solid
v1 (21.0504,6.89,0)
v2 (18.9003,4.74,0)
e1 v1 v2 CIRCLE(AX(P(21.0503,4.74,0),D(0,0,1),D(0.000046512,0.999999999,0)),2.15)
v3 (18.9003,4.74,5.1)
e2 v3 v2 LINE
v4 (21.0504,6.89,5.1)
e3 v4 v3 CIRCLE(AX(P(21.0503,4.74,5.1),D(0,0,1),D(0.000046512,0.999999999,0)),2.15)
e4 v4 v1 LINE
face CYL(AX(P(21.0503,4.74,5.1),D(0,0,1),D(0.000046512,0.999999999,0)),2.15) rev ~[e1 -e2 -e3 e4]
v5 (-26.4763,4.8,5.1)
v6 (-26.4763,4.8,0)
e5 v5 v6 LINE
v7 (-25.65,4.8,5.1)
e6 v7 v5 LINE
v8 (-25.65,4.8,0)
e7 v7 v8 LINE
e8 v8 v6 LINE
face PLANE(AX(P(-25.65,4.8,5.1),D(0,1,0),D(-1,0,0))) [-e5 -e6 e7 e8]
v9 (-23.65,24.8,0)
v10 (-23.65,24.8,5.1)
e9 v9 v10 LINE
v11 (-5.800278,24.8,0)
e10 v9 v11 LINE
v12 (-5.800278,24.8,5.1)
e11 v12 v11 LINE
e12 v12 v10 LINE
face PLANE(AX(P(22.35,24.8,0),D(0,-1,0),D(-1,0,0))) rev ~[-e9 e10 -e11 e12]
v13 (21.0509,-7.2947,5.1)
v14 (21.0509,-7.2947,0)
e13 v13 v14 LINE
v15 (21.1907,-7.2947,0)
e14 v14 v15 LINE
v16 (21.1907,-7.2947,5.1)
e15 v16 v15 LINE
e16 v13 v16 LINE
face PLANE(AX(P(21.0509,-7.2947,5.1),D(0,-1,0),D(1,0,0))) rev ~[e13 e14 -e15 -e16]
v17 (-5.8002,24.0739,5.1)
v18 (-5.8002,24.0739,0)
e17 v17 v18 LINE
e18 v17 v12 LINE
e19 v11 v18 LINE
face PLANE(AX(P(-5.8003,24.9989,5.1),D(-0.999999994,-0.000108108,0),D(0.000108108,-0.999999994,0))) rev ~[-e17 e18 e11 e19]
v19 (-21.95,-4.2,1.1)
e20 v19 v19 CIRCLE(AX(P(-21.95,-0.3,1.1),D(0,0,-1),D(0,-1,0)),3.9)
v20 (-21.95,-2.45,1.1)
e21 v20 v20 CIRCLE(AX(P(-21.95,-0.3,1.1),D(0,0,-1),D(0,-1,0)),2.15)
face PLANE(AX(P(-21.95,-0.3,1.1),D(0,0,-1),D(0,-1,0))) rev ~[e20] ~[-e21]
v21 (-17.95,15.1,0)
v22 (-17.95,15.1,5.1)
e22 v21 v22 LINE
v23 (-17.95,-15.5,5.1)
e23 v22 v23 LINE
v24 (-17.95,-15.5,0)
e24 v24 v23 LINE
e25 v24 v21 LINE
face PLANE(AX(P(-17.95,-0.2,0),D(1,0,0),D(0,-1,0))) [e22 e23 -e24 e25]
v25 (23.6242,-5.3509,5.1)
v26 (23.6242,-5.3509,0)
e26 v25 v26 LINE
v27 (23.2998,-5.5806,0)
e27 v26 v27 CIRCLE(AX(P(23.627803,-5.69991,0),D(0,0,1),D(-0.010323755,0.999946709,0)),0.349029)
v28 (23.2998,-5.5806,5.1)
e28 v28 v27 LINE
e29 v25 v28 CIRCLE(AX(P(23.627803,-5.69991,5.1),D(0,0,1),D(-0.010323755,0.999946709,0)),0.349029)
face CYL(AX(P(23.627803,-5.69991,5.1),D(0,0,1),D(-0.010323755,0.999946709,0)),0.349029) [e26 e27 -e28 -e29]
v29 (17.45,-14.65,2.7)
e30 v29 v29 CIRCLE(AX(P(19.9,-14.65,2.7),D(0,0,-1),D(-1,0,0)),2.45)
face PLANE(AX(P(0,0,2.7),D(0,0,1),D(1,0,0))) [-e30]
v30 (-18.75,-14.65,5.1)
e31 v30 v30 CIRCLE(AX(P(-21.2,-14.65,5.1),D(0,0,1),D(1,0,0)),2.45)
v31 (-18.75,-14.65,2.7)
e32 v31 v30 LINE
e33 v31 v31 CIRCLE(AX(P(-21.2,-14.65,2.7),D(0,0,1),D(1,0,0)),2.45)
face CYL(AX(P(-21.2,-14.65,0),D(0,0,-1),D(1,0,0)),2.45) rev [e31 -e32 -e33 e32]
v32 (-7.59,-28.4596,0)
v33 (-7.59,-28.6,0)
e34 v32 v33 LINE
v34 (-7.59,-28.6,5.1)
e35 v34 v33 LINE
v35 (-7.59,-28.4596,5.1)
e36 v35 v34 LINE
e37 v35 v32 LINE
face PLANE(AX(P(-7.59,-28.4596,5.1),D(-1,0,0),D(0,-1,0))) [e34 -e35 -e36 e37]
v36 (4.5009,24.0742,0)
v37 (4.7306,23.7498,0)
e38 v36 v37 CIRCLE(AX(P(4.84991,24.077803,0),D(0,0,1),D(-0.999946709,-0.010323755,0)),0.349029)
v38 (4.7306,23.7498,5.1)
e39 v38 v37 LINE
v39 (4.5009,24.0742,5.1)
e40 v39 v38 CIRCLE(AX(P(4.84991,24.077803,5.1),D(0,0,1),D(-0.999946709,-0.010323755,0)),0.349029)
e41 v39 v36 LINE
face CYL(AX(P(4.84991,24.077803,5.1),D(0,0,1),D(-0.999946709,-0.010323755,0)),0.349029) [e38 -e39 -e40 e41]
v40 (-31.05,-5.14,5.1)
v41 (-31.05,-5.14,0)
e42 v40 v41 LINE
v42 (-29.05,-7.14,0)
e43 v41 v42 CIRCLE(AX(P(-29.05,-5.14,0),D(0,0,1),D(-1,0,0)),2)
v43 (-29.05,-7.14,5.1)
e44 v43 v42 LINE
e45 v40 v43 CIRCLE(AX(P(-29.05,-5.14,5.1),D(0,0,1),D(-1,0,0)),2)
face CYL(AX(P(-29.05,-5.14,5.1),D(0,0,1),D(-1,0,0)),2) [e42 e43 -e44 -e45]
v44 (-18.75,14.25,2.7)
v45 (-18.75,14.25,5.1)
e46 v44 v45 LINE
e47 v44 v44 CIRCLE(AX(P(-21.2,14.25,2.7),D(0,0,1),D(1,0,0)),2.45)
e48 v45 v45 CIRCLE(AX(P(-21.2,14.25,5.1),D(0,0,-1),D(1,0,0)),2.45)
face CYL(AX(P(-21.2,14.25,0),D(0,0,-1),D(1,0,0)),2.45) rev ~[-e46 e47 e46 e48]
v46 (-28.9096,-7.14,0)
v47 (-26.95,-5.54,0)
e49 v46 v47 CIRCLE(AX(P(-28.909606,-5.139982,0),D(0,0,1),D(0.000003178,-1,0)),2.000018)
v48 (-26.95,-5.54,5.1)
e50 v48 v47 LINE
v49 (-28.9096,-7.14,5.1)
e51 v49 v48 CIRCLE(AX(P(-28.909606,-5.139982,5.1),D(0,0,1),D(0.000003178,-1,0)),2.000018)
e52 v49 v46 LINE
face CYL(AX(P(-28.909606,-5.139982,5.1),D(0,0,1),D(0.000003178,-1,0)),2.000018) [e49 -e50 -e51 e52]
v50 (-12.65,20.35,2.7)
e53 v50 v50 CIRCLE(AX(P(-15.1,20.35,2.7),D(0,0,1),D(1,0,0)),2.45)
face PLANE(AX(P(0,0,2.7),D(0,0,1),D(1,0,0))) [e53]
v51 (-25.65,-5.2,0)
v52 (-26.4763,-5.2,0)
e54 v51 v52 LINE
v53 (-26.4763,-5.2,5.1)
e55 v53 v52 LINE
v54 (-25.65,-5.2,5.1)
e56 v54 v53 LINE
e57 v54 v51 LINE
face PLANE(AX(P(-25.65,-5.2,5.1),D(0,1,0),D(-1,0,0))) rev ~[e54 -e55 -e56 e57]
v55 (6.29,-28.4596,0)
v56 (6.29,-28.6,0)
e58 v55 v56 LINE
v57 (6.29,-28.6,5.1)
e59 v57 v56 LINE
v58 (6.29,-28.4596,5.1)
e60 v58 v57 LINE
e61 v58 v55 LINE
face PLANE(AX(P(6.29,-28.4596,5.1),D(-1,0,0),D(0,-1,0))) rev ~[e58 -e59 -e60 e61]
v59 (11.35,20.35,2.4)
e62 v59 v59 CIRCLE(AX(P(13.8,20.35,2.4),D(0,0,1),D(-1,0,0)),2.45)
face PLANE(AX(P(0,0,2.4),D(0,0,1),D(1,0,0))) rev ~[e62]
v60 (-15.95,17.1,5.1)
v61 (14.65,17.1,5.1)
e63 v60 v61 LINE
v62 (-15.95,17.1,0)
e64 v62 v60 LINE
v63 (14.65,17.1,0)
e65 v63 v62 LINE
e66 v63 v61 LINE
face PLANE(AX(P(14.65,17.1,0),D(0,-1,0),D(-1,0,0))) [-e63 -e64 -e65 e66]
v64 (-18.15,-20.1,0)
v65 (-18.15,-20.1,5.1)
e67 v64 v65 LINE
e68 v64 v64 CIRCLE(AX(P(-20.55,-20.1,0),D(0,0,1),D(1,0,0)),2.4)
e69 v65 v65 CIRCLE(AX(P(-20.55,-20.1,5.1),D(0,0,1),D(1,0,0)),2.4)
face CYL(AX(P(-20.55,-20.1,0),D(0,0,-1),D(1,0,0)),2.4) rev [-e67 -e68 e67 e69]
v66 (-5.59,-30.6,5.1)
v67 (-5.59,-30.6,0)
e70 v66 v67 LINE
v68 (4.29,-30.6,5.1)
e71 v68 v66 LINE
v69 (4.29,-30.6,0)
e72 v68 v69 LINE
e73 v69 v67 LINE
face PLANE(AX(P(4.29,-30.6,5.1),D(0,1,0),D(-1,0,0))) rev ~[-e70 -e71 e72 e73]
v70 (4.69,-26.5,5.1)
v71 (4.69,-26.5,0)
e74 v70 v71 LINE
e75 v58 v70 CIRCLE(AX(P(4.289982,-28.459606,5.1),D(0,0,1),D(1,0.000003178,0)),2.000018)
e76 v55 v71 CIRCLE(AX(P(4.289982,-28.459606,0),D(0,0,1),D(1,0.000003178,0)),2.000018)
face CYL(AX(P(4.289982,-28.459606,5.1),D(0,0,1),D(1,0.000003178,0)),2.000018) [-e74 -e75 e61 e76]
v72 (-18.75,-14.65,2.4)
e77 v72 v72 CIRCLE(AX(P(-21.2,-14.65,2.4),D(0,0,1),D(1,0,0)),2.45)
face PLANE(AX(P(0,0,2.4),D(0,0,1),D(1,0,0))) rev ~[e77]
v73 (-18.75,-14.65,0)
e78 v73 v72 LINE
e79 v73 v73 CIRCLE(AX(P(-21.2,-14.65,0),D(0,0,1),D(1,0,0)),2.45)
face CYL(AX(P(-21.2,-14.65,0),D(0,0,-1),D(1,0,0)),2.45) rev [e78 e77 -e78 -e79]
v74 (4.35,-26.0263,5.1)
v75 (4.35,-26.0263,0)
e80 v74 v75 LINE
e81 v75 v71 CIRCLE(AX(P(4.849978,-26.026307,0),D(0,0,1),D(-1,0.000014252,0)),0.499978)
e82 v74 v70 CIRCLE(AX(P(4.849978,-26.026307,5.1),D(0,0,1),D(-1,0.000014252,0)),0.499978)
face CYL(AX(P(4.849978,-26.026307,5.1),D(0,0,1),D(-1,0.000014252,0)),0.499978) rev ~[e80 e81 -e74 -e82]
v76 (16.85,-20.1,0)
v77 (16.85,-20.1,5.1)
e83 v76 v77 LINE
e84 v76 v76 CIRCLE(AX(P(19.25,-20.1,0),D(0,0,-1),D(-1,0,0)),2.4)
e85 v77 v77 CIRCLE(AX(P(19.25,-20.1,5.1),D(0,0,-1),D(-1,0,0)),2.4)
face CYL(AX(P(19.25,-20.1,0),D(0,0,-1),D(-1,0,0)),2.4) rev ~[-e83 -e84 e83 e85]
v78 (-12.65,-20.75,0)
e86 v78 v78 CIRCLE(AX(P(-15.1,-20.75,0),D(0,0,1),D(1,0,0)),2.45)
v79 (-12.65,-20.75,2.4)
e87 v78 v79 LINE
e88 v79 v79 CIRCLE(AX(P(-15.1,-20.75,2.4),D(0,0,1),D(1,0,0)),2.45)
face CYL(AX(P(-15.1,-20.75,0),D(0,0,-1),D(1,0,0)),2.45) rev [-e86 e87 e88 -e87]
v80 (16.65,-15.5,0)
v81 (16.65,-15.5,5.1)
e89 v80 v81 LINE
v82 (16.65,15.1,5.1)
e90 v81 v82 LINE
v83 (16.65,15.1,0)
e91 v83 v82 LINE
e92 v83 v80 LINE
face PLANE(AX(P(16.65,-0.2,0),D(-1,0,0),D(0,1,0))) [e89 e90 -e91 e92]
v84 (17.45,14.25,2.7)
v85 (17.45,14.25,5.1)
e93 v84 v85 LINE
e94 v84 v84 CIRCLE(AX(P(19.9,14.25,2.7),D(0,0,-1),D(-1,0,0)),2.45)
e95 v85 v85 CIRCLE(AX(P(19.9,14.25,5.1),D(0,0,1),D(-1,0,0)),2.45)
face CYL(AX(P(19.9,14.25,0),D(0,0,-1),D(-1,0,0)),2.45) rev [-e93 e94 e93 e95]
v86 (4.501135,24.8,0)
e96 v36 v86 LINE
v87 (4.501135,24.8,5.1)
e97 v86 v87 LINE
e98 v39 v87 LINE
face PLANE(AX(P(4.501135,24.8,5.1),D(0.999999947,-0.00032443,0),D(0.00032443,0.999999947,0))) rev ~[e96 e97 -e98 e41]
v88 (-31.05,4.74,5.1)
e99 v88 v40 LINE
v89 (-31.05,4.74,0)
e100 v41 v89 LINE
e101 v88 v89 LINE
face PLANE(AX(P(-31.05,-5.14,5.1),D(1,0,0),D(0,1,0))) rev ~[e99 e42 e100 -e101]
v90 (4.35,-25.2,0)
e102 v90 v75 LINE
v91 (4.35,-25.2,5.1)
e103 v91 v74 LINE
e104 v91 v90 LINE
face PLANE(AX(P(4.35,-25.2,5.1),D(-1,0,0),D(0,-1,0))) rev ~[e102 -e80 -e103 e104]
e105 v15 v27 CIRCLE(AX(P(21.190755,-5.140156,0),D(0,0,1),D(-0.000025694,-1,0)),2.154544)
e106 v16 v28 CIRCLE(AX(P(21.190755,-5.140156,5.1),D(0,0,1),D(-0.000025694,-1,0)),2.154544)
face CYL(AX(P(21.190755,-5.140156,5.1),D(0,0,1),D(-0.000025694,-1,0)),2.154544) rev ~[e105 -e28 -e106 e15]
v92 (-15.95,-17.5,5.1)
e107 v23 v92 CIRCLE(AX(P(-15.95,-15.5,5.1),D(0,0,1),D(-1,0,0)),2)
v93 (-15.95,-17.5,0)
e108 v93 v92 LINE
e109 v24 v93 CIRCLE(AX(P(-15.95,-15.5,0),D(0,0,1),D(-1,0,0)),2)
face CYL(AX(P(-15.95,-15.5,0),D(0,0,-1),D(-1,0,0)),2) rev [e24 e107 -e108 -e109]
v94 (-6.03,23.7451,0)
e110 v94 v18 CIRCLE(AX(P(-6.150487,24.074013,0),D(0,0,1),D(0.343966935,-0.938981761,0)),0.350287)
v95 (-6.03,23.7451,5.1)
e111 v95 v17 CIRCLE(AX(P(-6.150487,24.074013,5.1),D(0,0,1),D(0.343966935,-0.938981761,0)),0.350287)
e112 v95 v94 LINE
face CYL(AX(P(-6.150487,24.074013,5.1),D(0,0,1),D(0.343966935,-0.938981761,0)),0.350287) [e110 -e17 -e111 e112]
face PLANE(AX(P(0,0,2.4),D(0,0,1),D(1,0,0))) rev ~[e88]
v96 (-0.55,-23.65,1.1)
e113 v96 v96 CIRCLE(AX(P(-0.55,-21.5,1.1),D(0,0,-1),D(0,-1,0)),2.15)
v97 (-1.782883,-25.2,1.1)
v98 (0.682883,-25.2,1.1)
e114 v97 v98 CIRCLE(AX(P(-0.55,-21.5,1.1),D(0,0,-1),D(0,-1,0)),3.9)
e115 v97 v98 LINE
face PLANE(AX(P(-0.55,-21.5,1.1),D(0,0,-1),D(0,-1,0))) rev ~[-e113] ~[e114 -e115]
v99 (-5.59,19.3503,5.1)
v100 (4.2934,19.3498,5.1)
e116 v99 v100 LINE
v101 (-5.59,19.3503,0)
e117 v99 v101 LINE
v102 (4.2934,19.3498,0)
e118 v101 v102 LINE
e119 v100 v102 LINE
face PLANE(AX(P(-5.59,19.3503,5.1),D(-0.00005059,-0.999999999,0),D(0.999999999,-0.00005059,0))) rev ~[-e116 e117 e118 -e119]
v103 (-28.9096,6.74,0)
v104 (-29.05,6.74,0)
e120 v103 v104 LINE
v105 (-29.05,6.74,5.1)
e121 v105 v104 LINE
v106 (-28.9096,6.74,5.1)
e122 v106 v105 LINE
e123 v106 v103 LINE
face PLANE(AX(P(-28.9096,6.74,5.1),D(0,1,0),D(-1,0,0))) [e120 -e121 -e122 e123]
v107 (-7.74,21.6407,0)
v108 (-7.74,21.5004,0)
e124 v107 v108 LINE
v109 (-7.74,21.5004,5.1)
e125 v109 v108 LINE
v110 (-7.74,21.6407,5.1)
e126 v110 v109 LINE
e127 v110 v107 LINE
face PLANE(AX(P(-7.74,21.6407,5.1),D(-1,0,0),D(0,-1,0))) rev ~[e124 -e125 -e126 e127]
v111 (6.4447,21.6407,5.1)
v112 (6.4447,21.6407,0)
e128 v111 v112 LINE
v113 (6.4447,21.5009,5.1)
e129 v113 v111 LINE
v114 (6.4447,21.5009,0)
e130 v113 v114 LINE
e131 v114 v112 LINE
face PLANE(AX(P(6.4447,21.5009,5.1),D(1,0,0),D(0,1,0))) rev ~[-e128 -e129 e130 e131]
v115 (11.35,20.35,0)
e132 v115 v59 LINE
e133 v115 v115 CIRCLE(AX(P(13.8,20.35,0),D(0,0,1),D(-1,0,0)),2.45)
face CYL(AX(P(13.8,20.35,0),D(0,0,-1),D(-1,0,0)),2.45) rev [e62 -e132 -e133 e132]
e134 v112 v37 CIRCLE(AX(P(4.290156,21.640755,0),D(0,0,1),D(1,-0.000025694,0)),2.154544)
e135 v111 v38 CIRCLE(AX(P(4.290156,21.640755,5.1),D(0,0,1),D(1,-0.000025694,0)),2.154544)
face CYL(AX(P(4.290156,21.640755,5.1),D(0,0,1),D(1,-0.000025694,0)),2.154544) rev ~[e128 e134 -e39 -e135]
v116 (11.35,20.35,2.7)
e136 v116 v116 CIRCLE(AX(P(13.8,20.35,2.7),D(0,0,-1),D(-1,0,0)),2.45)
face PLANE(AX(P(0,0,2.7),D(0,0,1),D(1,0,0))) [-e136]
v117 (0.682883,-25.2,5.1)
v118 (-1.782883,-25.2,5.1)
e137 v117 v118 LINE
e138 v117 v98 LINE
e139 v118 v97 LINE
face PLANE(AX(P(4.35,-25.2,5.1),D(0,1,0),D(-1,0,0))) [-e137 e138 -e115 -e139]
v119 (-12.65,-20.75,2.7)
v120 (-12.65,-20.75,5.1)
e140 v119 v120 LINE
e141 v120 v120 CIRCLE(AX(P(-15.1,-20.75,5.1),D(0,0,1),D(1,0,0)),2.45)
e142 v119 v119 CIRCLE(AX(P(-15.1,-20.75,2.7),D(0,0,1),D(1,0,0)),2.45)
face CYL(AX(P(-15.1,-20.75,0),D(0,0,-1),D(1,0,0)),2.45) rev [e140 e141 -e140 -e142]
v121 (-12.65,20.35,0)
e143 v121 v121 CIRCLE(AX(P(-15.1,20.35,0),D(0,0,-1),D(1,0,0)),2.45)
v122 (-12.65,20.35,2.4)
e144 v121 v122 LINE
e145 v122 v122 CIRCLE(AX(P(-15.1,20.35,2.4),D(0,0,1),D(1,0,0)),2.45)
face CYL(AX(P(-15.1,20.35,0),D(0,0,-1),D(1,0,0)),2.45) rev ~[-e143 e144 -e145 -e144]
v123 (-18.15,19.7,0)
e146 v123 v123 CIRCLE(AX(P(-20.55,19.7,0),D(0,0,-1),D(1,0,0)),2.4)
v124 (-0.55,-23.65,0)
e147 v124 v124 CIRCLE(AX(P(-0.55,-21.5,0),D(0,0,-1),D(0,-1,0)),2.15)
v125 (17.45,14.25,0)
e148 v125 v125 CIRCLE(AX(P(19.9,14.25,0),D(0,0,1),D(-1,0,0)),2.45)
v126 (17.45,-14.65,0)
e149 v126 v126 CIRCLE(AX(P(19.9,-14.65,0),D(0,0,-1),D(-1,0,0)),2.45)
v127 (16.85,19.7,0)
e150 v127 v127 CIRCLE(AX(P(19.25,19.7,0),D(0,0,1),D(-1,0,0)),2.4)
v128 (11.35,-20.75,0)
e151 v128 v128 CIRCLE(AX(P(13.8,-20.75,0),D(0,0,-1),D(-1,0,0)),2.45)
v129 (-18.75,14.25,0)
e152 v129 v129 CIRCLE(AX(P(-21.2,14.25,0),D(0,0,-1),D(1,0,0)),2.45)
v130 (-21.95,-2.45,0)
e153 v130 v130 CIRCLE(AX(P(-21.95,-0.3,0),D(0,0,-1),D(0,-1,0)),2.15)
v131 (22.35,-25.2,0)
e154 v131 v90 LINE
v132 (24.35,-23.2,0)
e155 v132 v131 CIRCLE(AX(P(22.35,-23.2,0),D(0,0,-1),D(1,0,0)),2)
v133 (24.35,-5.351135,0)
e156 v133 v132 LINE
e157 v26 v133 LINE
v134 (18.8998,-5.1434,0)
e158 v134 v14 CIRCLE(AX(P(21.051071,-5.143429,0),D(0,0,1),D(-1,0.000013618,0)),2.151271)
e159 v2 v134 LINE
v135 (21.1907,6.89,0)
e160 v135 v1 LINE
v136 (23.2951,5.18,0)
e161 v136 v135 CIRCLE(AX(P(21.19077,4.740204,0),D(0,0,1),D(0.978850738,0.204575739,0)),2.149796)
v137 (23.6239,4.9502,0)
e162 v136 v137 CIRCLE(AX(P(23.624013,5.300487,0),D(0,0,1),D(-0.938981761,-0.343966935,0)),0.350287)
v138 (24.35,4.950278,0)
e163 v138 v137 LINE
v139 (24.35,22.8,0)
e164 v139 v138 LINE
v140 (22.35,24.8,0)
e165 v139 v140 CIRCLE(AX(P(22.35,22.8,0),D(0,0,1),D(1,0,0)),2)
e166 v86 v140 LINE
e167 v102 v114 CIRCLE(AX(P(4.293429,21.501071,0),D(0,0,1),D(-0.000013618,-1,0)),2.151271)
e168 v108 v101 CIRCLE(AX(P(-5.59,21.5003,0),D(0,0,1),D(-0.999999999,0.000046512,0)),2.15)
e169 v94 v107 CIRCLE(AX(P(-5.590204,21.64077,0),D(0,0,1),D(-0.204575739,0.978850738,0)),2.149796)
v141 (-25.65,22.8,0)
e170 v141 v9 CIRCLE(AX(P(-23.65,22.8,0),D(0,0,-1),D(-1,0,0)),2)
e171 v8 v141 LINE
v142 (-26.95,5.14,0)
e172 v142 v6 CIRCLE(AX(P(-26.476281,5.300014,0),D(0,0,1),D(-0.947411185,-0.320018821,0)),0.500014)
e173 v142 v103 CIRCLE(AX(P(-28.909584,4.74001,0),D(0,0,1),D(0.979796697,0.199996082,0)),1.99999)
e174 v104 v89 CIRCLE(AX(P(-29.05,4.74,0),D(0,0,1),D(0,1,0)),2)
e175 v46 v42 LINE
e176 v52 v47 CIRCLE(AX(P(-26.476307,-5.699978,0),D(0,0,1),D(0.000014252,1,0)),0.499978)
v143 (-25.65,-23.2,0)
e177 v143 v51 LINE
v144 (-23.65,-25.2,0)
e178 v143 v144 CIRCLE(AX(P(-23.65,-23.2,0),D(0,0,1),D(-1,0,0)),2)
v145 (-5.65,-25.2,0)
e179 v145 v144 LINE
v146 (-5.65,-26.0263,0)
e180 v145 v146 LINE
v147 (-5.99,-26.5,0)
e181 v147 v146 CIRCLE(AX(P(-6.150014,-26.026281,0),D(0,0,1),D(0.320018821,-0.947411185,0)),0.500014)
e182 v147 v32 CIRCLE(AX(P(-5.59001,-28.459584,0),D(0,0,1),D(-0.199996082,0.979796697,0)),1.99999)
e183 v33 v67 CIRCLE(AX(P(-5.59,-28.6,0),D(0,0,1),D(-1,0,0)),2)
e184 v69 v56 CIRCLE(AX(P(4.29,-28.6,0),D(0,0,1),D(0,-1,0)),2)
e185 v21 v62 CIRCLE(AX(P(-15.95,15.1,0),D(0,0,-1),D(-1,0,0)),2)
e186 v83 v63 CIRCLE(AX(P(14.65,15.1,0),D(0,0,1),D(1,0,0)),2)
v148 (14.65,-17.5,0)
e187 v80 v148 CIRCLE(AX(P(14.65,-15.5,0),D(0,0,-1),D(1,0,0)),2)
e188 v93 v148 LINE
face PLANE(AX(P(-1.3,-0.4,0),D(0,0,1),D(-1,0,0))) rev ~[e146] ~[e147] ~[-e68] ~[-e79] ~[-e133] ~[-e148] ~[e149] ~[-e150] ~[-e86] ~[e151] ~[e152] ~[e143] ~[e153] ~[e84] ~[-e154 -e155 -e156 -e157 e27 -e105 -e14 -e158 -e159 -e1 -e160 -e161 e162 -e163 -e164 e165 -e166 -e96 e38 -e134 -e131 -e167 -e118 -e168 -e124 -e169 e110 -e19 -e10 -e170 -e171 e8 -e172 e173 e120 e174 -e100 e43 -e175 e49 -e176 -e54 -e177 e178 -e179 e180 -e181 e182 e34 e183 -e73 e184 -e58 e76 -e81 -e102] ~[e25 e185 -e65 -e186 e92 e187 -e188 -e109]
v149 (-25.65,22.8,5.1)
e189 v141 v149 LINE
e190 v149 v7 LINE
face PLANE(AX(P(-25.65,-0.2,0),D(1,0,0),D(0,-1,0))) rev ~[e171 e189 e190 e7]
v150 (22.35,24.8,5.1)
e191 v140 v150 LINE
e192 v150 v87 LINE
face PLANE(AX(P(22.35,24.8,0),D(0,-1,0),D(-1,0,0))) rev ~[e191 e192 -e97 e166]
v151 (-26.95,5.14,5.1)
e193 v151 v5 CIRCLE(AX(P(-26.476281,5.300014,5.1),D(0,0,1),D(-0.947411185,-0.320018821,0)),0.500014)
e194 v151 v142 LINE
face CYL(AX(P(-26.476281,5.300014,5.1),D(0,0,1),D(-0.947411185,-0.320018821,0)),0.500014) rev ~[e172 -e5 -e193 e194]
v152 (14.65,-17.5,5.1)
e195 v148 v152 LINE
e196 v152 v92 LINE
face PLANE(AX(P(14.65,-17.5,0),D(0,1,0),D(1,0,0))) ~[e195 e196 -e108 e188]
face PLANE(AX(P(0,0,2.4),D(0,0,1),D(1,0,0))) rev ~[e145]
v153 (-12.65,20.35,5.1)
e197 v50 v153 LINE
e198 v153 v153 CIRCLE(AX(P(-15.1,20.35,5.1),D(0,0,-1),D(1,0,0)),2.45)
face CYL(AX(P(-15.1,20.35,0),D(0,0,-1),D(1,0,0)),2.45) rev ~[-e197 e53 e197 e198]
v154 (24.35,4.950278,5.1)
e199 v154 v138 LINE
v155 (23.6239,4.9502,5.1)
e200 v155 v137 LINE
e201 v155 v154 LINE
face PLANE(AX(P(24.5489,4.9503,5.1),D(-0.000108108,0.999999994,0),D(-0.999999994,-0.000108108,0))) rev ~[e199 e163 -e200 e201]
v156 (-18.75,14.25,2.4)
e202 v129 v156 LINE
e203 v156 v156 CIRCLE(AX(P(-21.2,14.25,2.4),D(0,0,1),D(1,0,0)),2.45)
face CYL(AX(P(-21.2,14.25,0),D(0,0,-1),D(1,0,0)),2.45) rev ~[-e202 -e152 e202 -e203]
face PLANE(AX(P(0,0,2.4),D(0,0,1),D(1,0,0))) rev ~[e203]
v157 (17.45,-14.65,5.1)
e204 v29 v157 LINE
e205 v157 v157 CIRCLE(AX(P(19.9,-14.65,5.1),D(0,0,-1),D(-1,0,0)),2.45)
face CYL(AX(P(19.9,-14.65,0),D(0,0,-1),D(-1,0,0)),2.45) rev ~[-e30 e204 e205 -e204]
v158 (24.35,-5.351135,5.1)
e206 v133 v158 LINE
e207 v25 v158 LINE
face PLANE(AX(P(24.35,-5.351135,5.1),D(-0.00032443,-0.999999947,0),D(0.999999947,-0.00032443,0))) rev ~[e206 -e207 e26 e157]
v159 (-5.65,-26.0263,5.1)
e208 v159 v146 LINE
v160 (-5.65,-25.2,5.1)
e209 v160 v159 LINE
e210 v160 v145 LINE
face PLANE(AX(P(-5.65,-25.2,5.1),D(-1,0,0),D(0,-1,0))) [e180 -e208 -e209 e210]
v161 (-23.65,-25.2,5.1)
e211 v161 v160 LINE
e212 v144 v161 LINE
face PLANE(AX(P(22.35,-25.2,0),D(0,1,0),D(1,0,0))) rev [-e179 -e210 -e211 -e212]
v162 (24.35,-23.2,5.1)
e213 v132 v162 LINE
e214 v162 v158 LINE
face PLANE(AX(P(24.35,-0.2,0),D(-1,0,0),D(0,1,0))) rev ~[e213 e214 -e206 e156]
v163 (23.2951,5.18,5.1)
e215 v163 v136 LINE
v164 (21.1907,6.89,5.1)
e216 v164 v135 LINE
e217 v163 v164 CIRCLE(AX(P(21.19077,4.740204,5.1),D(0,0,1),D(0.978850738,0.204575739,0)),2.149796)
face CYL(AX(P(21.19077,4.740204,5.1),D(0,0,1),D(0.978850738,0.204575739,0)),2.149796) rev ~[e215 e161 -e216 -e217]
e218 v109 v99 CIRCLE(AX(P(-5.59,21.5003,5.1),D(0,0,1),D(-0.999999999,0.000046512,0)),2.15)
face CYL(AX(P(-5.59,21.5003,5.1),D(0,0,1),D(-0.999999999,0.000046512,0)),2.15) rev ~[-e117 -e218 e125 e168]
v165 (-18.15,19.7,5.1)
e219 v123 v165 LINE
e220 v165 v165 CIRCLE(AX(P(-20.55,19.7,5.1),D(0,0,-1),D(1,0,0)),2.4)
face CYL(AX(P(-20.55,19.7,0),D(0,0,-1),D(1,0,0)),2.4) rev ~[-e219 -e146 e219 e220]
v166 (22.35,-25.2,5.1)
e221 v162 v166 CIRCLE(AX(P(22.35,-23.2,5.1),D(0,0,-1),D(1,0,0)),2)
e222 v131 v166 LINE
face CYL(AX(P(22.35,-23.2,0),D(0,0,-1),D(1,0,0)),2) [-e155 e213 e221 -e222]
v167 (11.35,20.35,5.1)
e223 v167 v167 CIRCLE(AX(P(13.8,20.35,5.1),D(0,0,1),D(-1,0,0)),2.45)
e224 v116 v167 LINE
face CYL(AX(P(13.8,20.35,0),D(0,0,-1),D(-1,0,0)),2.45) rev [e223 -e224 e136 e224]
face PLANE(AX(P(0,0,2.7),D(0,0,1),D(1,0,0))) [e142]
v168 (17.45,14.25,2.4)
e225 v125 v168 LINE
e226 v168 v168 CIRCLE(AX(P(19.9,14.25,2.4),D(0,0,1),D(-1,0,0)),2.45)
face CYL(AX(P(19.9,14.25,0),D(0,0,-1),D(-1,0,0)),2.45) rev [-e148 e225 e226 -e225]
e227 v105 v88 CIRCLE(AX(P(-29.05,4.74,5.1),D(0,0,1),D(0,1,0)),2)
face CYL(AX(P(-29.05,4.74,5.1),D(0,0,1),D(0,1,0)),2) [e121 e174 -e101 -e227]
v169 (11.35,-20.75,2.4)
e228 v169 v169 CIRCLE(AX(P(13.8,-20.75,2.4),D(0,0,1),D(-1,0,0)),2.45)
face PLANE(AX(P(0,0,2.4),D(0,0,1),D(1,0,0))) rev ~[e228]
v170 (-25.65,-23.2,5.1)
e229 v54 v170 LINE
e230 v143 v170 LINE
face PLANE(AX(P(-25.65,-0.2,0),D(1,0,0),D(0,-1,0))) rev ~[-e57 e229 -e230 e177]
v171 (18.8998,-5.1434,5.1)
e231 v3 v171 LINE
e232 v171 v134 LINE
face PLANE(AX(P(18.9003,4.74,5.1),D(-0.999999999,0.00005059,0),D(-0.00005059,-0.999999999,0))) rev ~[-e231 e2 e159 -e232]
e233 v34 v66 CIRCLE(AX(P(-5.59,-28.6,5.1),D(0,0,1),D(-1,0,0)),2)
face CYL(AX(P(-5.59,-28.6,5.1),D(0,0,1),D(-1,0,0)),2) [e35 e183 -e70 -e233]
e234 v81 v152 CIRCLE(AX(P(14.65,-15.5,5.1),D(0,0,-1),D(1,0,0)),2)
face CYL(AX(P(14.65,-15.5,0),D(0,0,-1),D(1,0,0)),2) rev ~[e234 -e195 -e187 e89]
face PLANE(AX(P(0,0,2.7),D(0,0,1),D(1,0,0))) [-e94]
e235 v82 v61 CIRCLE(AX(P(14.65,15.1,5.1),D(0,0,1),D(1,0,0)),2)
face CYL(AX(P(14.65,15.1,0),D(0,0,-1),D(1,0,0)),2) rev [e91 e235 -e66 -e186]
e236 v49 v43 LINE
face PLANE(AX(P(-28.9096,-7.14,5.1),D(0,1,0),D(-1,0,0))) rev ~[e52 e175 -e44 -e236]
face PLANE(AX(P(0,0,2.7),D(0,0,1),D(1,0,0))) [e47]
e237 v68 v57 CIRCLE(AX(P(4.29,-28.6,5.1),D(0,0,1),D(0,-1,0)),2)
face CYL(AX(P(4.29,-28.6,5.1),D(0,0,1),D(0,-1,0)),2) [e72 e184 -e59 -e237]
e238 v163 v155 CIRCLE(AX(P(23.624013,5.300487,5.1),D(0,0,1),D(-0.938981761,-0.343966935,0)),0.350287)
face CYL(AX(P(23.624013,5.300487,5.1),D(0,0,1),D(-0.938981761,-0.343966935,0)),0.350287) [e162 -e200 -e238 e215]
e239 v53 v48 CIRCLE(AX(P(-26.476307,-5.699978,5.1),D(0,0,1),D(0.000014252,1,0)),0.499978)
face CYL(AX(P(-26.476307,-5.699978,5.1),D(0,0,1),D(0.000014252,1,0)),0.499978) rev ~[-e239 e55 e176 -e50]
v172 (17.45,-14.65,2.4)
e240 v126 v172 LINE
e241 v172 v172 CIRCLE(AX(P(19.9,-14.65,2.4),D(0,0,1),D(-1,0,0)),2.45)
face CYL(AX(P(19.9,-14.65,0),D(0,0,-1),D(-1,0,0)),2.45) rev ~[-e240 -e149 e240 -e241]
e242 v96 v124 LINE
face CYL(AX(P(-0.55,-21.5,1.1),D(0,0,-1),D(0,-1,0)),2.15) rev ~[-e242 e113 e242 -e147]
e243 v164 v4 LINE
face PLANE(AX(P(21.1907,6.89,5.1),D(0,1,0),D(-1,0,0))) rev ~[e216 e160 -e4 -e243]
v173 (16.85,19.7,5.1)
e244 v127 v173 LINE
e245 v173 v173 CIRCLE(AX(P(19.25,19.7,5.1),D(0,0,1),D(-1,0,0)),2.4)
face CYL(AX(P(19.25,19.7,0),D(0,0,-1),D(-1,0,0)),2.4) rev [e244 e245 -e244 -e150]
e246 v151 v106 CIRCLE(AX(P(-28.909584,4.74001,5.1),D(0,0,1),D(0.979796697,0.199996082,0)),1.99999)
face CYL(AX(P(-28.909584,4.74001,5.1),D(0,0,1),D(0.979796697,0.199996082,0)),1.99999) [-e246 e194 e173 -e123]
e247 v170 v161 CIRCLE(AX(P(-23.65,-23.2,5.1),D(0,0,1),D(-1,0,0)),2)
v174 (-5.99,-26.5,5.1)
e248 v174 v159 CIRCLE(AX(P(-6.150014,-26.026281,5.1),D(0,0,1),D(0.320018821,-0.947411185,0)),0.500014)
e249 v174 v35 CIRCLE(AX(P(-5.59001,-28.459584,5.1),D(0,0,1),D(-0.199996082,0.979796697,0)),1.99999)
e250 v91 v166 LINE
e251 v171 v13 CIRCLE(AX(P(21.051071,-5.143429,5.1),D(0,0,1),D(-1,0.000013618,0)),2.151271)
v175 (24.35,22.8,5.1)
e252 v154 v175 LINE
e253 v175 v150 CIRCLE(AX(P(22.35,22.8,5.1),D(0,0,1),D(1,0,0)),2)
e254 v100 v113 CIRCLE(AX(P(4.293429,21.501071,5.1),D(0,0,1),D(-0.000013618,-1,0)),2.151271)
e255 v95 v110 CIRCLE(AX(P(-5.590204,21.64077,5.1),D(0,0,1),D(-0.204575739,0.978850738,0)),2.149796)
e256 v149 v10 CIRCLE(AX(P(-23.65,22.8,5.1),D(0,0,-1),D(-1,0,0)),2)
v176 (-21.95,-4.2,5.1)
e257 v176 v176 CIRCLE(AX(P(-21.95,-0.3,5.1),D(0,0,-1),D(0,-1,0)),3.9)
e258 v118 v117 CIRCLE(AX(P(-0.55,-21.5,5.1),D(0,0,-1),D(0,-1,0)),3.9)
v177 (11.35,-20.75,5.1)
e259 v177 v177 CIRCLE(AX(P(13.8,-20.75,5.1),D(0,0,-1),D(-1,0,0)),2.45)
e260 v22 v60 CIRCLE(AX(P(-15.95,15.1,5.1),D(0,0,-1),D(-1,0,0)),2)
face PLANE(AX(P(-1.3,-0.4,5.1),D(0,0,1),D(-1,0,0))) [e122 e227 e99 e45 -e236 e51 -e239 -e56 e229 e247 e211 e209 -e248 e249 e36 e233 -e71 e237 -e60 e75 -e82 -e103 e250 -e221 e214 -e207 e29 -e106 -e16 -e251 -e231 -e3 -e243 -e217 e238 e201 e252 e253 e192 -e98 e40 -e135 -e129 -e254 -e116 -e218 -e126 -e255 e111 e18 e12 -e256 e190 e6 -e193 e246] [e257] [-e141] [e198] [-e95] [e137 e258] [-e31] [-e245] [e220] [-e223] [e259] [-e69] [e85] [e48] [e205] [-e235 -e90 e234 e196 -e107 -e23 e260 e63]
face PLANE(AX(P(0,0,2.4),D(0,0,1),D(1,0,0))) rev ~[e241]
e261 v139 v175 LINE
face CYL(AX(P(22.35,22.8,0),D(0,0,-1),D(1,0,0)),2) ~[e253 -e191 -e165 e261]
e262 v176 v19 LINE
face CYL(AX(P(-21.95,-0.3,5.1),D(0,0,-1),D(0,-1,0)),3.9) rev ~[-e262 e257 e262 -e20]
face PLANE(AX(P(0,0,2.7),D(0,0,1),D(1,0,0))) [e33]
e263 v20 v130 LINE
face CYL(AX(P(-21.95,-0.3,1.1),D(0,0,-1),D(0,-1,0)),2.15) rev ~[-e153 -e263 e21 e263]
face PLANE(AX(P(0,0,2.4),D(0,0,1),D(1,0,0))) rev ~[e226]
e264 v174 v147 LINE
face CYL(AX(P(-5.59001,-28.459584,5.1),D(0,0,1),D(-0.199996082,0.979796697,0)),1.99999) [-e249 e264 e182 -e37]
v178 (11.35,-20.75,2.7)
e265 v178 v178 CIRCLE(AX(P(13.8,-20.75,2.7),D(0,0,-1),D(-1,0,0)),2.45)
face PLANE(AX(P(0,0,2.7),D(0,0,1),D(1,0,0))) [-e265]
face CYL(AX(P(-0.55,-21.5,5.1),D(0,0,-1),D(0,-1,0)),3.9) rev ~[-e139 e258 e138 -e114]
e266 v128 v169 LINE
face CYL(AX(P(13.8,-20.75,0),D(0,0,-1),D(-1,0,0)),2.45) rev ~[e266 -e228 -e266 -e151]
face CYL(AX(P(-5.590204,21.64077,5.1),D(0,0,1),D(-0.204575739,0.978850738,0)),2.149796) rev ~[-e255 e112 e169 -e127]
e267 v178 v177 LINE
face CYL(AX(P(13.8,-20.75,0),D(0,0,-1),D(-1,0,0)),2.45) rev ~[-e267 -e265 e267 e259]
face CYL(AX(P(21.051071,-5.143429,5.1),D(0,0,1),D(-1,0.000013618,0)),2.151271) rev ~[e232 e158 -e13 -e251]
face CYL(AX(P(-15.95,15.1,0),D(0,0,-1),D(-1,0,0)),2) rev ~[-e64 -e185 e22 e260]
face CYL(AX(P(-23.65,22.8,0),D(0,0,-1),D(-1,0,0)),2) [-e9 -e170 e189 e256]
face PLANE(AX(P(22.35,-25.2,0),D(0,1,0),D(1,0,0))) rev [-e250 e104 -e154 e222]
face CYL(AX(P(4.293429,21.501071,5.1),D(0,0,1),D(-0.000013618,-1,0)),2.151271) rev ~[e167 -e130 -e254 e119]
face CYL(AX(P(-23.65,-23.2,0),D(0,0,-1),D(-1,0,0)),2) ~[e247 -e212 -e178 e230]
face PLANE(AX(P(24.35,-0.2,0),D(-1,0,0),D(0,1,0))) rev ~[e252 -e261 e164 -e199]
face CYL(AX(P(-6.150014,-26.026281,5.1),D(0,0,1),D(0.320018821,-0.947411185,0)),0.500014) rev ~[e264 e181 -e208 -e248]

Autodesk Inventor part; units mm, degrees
ref_plane "YZ Plane" through (0, 0, 0) normal (1, 0, 0) x (0, 1, 0)
ref_plane "XZ Plane" through (0, 0, 0) normal (0, 1, 0) x (-1, 0, 0)
ref_plane "XY Plane" through (0, 0, 0) normal (0, 0, 1) x (1, 0, 0)
sketch "Skizze1" plane through (0, 0, 0) normal (0, 0, 1) x (1, 0, 0)
  line L0 (-17.95, -0.2) -> (-25.65, -0.2)
  line L1 (-25.65, -0.2) -> (-25.65, -23.2)
  line L2 (-23.65, -25.2) -> (-0.65, -25.2)
  line L3 (-0.65, -25.2) -> (-0.65, -17.5)
  line L4 (-17.95, -0.2) -> (-17.95, -15.5)
  line L5 (-15.95, -17.5) -> (-0.65, -17.5)
  arc A0 (-25.65, -23.2) -> (-23.65, -25.2) centre (-23.65, -23.2) ccw
  circle A1 centre (-20.55, -20.1) radius 2.4
  circle A2 centre (-21.2, -14.65) radius 2.45
  circle A3 centre (-15.1, -20.75) radius 2.45
  arc A4 (-17.95, -15.5) -> (-15.95, -17.5) centre (-15.95, -15.5) ccw
  circle A5 centre (-20.55, -20.1) radius 2.4
  circle A6 centre (-15.1, -20.75) radius 2.45
  point P0 (-25.65, -25.2)
  point P1 (-17.95, -17.5)
  dimension "d278" = 25
  dimension "d279" = 25
  dimension "d2" = 7.7
  dimension "d281" = 7.7
  dimension "d282" = 2
  dimension "d283" = 4.8
  dimension "d286" = 4.9
  dimension "d_hole" = 4.9
  dimension "d292" = 2
  dimension "d351" = 5.1
  dimension "d352" = 5.1
  dimension "d353" = 4.45
  dimension "d354" = 4.45
  dimension "d355" = 10.55
  dimension "d356" = 10.55
extrude "Extrusion1" add sketch "Skizze1" along normal blind 5.1
mirror "Mirror6" about plane through (-17.95, -0.2, 0) normal (0, 1, 0) of "Extrusion1"
mirror "Mirror7" about plane through (-0.65, -25.2, 0) normal (1, 0, 0) of "Extrusion1", "Mirror6"
sketch "Sketch26" plane through (0, 0, 5.1) normal (0, 0, 1) x (1, 0, 0)
  line L0 (22.35, 24.8) -> (-23.65, 24.8) projected
  arc A0 (-23.65, 24.8) -> (-25.65, 22.8) centre (-23.65, 22.8) ccw projected
  line L1 (-25.65, -23.2) -> (-25.65, 22.8) projected
  arc A1 (-25.65, -23.2) -> (-23.65, -25.2) centre (-23.65, -23.2) ccw projected
  line L2 (-23.65, -25.2) -> (22.35, -25.2) projected
  arc A2 (22.35, -25.2) -> (24.35, -23.2) centre (22.35, -23.2) ccw projected
  line L3 (24.35, 22.8) -> (24.35, -23.2) projected
  arc A3 (24.35, 22.8) -> (22.35, 24.8) centre (22.35, 22.8) ccw projected
  line L4 (14.65, 17.1) -> (-15.95, 17.1) projected
  arc A4 (16.65, 15.1) -> (14.65, 17.1) centre (14.65, 15.1) ccw projected
  line L5 (16.65, 15.1) -> (16.65, -15.5) projected
  arc A5 (14.65, -17.5) -> (16.65, -15.5) centre (14.65, -15.5) ccw projected
  line L6 (-15.95, -17.5) -> (14.65, -17.5) projected
  arc A6 (-17.95, -15.5) -> (-15.95, -17.5) centre (-15.95, -15.5) ccw projected
  line L7 (-17.95, -15.5) -> (-17.95, 15.1) projected
  arc A7 (-15.95, 17.1) -> (-17.95, 15.1) centre (-15.95, 15.1) ccw projected
  line L8 (-25.65, -23.2) -> (-25.65, 22.8) projected
  line L9 (-28.9096, -7.14) -> (-29.05, -7.14)
  line L10 (-31.05, -5.14) -> (-31.05, -0.2)
  line L11 (-25.65, 6.8) -> (-25.65, -7.2)
  line L12 (-25.65, -5.2) -> (-26.4763, -5.2)
  line L13 (-26.9096, -5.2) -> (-25.5295, 4.7947) construction
  line L14 (-26.79, 4.8146) -> (-25.65, -5.2) construction
  line L15 (-26.9096, -5.2) -> (-26.9096, -5.14)
  line L16 (-26.79, 4.8146) -> (-26.79, 4.8146)
  arc A8 (-31.05, -5.14) -> (-29.05, -7.14) centre (-29.05, -5.14) ccw
  arc A9 (-28.9096, -7.14) -> (-26.95, -5.54) centre (-28.9096, -5.14) ccw
  arc A10 (-26.4763, -5.2) -> (-26.95, -5.54) centre (-26.4763, -5.7) ccw
  line L17 (-17.95, -15.5) -> (-17.95, 15.1) construction
  line L18 (-17.95, -0.2) -> (-38.1399, -0.2) construction
  line L19 (-26.95, -5.54) -> (-26.95, -0.2) construction
  line L20 (-28.9096, 6.74) -> (-29.05, 6.74)
  line L21 (-31.05, 4.74) -> (-31.05, -0.2)
  line L22 (-25.65, 4.8) -> (-26.4763, 4.8)
  arc A11 (-29.05, 6.74) -> (-31.05, 4.74) centre (-29.05, 4.74) ccw
  arc A12 (-26.95, 5.14) -> (-28.9096, 6.74) centre (-28.9096, 4.74) ccw
  arc A13 (-26.95, 5.14) -> (-26.4763, 4.8) centre (-26.4763, 5.3) ccw
  line L23 (-25.65, -5.2) -> (-25.65, 4.8)
  point P0 (0, 0)
  point P1 (-26.2192, -0.2)
  point P2 (-25.65, -0.2)
  dimension "d293" = 5.4
  dimension "d300" = 2
  dimension "d301" = 0.5
  dimension "d358" = 5
  dimension "d359" = 4.1
  dimension "d371" = 6.94
extrude "Extrusion13" add sketch "Sketch26" against normal up to surface (5.1 mm away) contours L1 L12 A10 A9 L9 A8 L10 L21 A11 L20 A12 A13 L22
sketch "Sketch27" plane through (0, 0, 5.1) normal (0, 0, 1) x (1, 0, 0)
  line L0 (22.35, 24.8) -> (-23.65, 24.8) projected
  arc A0 (-23.65, 24.8) -> (-25.65, 22.8) centre (-23.65, 22.8) ccw projected
  line L1 (-25.65, 4.8) -> (-25.65, 22.8) projected
  arc A1 (-25.65, -23.2) -> (-23.65, -25.2) centre (-23.65, -23.2) ccw projected
  line L2 (-23.65, -25.2) -> (22.35, -25.2) projected
  arc A2 (22.35, -25.2) -> (24.35, -23.2) centre (22.35, -23.2) ccw projected
  line L3 (24.35, 22.8) -> (24.35, -23.2) projected
  arc A3 (24.35, 22.8) -> (22.35, 24.8) centre (22.35, 22.8) ccw projected
  line L4 (14.65, 17.1) -> (-15.95, 17.1) projected
  arc A4 (16.65, 15.1) -> (14.65, 17.1) centre (14.65, 15.1) ccw projected
  line L5 (16.65, 15.1) -> (16.65, -15.5) projected
  arc A5 (14.65, -17.5) -> (16.65, -15.5) centre (14.65, -15.5) ccw projected
  line L6 (-15.95, -17.5) -> (14.65, -17.5) projected
  arc A6 (-17.95, -15.5) -> (-15.95, -17.5) centre (-15.95, -15.5) ccw projected
  line L7 (-17.95, -15.5) -> (-17.95, 15.1) projected
  arc A7 (-15.95, 17.1) -> (-17.95, 15.1) centre (-15.95, 15.1) ccw projected
  circle A8 centre (-0.65, -0.2) radius 17.3
  line L8 (-25.65, 4.8) -> (-26.4763, 4.8) projected
  arc A9 (-26.95, 5.14) -> (-26.4763, 4.8) centre (-26.4763, 5.3) ccw projected
  arc A10 (-26.95, 5.14) -> (-28.9096, 6.74) centre (-28.9096, 4.74) ccw projected
  line L9 (-28.9096, 6.74) -> (-29.05, 6.74) projected
  arc A11 (-29.05, 6.74) -> (-31.05, 4.74) centre (-29.05, 4.74) ccw projected
  line L10 (-31.05, 4.74) -> (-31.05, -5.14) projected
  arc A12 (-31.05, -5.14) -> (-29.05, -7.14) centre (-29.05, -5.14) ccw projected
  line L11 (-29.05, -7.14) -> (-28.9096, -7.14) projected
  arc A13 (-28.9096, -7.14) -> (-26.95, -5.54) centre (-28.9096, -5.14) ccw projected
  arc A14 (-26.4763, -5.2) -> (-26.95, -5.54) centre (-26.4763, -5.7) ccw projected
  line L12 (-26.4763, -5.2) -> (-25.65, -5.2) projected
  line L13 (-25.65, -23.2) -> (-25.65, -5.2) projected
  point P0 (0, 0)
sketch "Sketch28" plane through (0, 0, 5.1) normal (0, 0, 1) x (1, 0, 0)
  line L0 (22.35, 24.8) -> (-23.65, 24.8) projected
  arc A0 (-23.65, 24.8) -> (-25.65, 22.8) centre (-23.65, 22.8) ccw projected
  line L1 (-25.65, 4.8) -> (-25.65, 22.8) projected
  arc A1 (-25.65, -23.2) -> (-23.65, -25.2) centre (-23.65, -23.2) ccw projected
  line L2 (-23.65, -25.2) -> (22.35, -25.2) projected
  arc A2 (22.35, -25.2) -> (24.35, -23.2) centre (22.35, -23.2) ccw projected
  line L3 (24.35, 22.8) -> (24.35, -23.2) projected
  arc A3 (24.35, 22.8) -> (22.35, 24.8) centre (22.35, 22.8) ccw projected
  line L4 (14.65, 17.1) -> (-15.95, 17.1) projected
  arc A4 (16.65, 15.1) -> (14.65, 17.1) centre (14.65, 15.1) ccw projected
  line L5 (16.65, 15.1) -> (16.65, -15.5) projected
  arc A5 (14.65, -17.5) -> (16.65, -15.5) centre (14.65, -15.5) ccw projected
  line L6 (-15.95, -17.5) -> (14.65, -17.5) projected
  arc A6 (-17.95, -15.5) -> (-15.95, -17.5) centre (-15.95, -15.5) ccw projected
  line L7 (-17.95, -15.5) -> (-17.95, 15.1) projected
  arc A7 (-15.95, 17.1) -> (-17.95, 15.1) centre (-15.95, 15.1) ccw projected
  line L8 (-25.65, 22.8) -> (-25.65, -23.2) projected
  line L9 (-25.65, 4.8) -> (-26.4763, 4.8) projected
  arc A8 (-26.95, 5.14) -> (-26.4763, 4.8) centre (-26.4763, 5.3) ccw projected
  arc A9 (-26.95, 5.14) -> (-28.9096, 6.74) centre (-28.9096, 4.74) ccw projected
  line L10 (-28.9096, 6.74) -> (-29.05, 6.74) projected
  arc A10 (-29.05, 6.74) -> (-31.05, 4.74) centre (-29.05, 4.74) ccw projected
  line L11 (-31.05, 4.74) -> (-31.05, -5.14) projected
  arc A11 (-31.05, -5.14) -> (-29.05, -7.14) centre (-29.05, -5.14) ccw projected
  line L12 (-29.05, -7.14) -> (-28.9096, -7.14) projected
  arc A12 (-28.9096, -7.14) -> (-26.95, -5.54) centre (-28.9096, -5.14) ccw projected
  arc A13 (-26.4763, -5.2) -> (-26.95, -5.54) centre (-26.4763, -5.7) ccw projected
  line L13 (-26.4763, -5.2) -> (-25.65, -5.2) projected
  line L14 (-25.65, -23.2) -> (-25.65, -5.2) projected
  arc A14 (-31.05, -5.14) -> (-29.05, -7.14) centre (-29.05, -5.14) ccw projected
  line L15 (-31.05, -5.14) -> (-31.05, 4.74)
  arc A15 (-29.05, 6.74) -> (-31.05, 4.74) centre (-29.05, 4.74) ccw projected
  line L16 (-29.05, 6.74) -> (-28.9096, 6.74)
  line L17 (-25.65, 4.8) -> (-26.4763, 4.8) projected
  line L18 (-26.4763, 4.8) -> (-25.65, 4.8)
  line L19 (-25.65, 4.8) -> (-25.65, -5.2)
  arc A16 (-28.9096, -7.14) -> (-26.95, -5.54) centre (-28.9096, -5.14) ccw projected
  line L20 (-28.9096, -7.14) -> (-29.05, -7.14)
  arc A17 (-31.05, -5.14) -> (-29.05, -7.14) centre (-29.05, -5.14) ccw
  arc A18 (-28.9096, -7.14) -> (-26.95, -5.54) centre (-28.9096, -5.14) ccw
  arc A19 (-26.4763, -5.2) -> (-26.95, -5.54) centre (-26.4763, -5.7) ccw projected
  arc A20 (-26.4763, -5.2) -> (-26.95, -5.54) centre (-26.4763, -5.7) ccw
  arc A21 (-26.95, 5.14) -> (-26.4763, 4.8) centre (-26.4763, 5.3) ccw projected
  arc A22 (-26.95, 5.14) -> (-26.4763, 4.8) centre (-26.4763, 5.3) ccw
  arc A23 (-29.05, 6.74) -> (-31.05, 4.74) centre (-29.05, 4.74) ccw
  line L21 (-25.65, -5.2) -> (-26.4763, -5.2) projected
  line L22 (-26.4763, -5.2) -> (-25.65, -5.2)
  line L23 (-31.05, 4.74) -> (-31.05, -5.14) construction
  arc A24 (-26.95, 5.14) -> (-28.9096, 6.74) centre (-28.9096, 4.74) ccw projected
  arc A25 (-26.95, 5.14) -> (-28.9096, 6.74) centre (-28.9096, 4.74) ccw
  line L24 (-31.25, 4.74) -> (-31.25, -5.14)
  arc A26 (-31.25, -5.14) -> (-29.05, -7.34) centre (-29.05, -5.14) ccw
  line L25 (-29.05, -7.34) -> (-28.9096, -7.34)
  arc A27 (-28.9096, -7.34) -> (-26.757, -5.594) centre (-28.9096, -5.14) ccw
  arc A28 (-26.4763, -5.4) -> (-26.757, -5.594) centre (-26.4763, -5.7) ccw
  line L26 (-26.4763, -5.4) -> (-25.45, -5.4)
  line L27 (-25.45, -5.4) -> (-25.45, 5)
  line L28 (-25.45, 5) -> (-26.4763, 5)
  arc A29 (-26.757, 5.194) -> (-26.4763, 5) centre (-26.4763, 5.3) ccw
  arc A30 (-26.757, 5.194) -> (-28.9096, 6.94) centre (-28.9096, 4.74) ccw
  line L29 (-28.9096, 6.94) -> (-29.05, 6.94)
  arc A31 (-29.05, 6.94) -> (-31.25, 4.74) centre (-29.05, 4.74) ccw
  line L30 (24.35, 22.8) -> (24.35, -23.2) construction
  line L31 (24.35, -0.2) -> (-31.05, -0.2) construction
  line L32 (24.35, 6.75) -> (18.85, 6.75) construction
  line L33 (18.85, 6.75) -> (18.85, -7.15) construction
  line L34 (18.85, -7.15) -> (24.35, -7.15) construction
  line L35 (24.35, -7.15) -> (24.35, 6.75) construction
  line L36 (24.35, 6.75) -> (18.85, -7.15) construction
  line L37 (18.85, 6.75) -> (24.35, -7.15) construction
  line L38 (18.9998, -5.1434) -> (19.0003, 4.7402)
  line L39 (21.0504, 6.79) -> (21.1908, 6.79)
  line L40 (23.624, 4.8502) -> (24.4489, 4.8503)
  line L41 (24.4489, 4.8503) -> (24.4489, -5.2511)
  line L42 (21.1907, -7.1947) -> (21.0509, -7.1947)
  arc A32 (18.9998, -5.1434) -> (21.0509, -7.1947) centre (21.0509, -5.1435) ccw
  arc A33 (21.1907, -7.1947) -> (23.2033, -5.5537) centre (21.1907, -5.14) ccw
  arc A34 (23.6238, -5.2509) -> (23.2033, -5.5537) centre (23.6278, -5.6999) ccw
  arc A35 (23.1986, 5.153) -> (23.624, 4.8502) centre (23.6239, 5.3004) ccw
  arc A36 (21.0504, 6.79) -> (19.0003, 4.7402) centre (21.0503, 4.74) ccw
  line L43 (23.6238, -5.2509) -> (24.4489, -5.2511)
  arc A37 (23.1986, 5.153) -> (21.1908, 6.79) centre (21.1906, 4.7401) ccw
  line L44 (18.9003, 4.74) -> (18.8998, -5.1434)
  arc A38 (18.8998, -5.1434) -> (21.0509, -7.2947) centre (21.0509, -5.1435) ccw
  line L45 (21.0509, -7.2947) -> (21.1907, -7.2947)
  arc A39 (21.1907, -7.2947) -> (23.2998, -5.5806) centre (21.1907, -5.14) ccw
  arc A40 (23.6242, -5.3509) -> (23.2998, -5.5806) centre (23.6278, -5.6999) ccw
  line L46 (23.6242, -5.3509) -> (24.5489, -5.3512)
  line L47 (24.5489, -5.3512) -> (24.5489, 4.9503)
  line L48 (24.5489, 4.9503) -> (23.6239, 4.9502)
  arc A41 (23.2951, 5.18) -> (23.6239, 4.9502) centre (23.6239, 5.3004) ccw
  arc A42 (23.2951, 5.18) -> (21.1907, 6.89) centre (21.1906, 4.7401) ccw
  line L49 (21.1907, 6.89) -> (21.0504, 6.89)
  arc A43 (21.0504, 6.89) -> (18.9003, 4.74) centre (21.0503, 4.74) ccw
  point P0 (0, 0)
  point P1 (21.6, -0.2)
  point P2 (19.0503, -0.2)
  dimension "d372" = 0.2
  dimension "d373" = 2.2
  dimension "d374" = 13.9
  dimension "d375" = 0.1
extrude "Extrusion14" cut sketch "Sketch28" against normal blind 10 contours L48 L47 L46 L3 L43 L41 L40 | L3 L40 A35 A37 L39 A36 L38 A32 L42 A33 A34 L43 L46 A40 A39 L45 A38 L44 A43 L49 A42 A41 L48 | L40 L41 L43 L3 | L3 L43 A34 A33 L42 A32 L38 A36 L39 A37 A35 L40
pattern_circular "Circular Pattern6" count 2 over 90 about axis through (-0.65, -0.2, 5.1) along (0, 0, 1) of "Extrusion14", "Extrusion13"
sketch "Sketch29" plane through (0, 0, 5.1) normal (0, 0, 1) x (1, 0, 0)
  line L0 (-5.8002, 24.8) -> (-23.65, 24.8) projected
  arc A0 (-23.65, 24.8) -> (-25.65, 22.8) centre (-23.65, 22.8) ccw projected
  line L1 (-25.65, 4.8) -> (-25.65, 22.8) projected
  arc A1 (-25.65, -23.2) -> (-23.65, -25.2) centre (-23.65, -23.2) ccw projected
  line L2 (-23.65, -25.2) -> (-5.65, -25.2) projected
  arc A2 (22.35, -25.2) -> (24.35, -23.2) centre (22.35, -23.2) ccw projected
  line L3 (24.35, -5.3511) -> (24.35, -23.2) projected
  arc A3 (24.35, 22.8) -> (22.35, 24.8) centre (22.35, 22.8) ccw projected
  line L4 (14.65, 17.1) -> (-15.95, 17.1) projected
  arc A4 (16.65, 15.1) -> (14.65, 17.1) centre (14.65, 15.1) ccw projected
  line L5 (16.65, 15.1) -> (16.65, -15.5) projected
  arc A5 (14.65, -17.5) -> (16.65, -15.5) centre (14.65, -15.5) ccw projected
  line L6 (-15.95, -17.5) -> (14.65, -17.5) projected
  arc A6 (-17.95, -15.5) -> (-15.95, -17.5) centre (-15.95, -15.5) ccw projected
  line L7 (-17.95, -15.5) -> (-17.95, 15.1) projected
  arc A7 (-15.95, 17.1) -> (-17.95, 15.1) centre (-15.95, 15.1) ccw projected
  circle A8 centre (-21.95, -0.3) radius 3.89
  circle A9 centre (-0.55, -21.5) radius 2.9259
  line L8 (-25.65, 4.8) -> (-26.4763, 4.8) projected
  arc A10 (-26.95, 5.14) -> (-26.4763, 4.8) centre (-26.4763, 5.3) ccw projected
  arc A11 (-26.95, 5.14) -> (-28.9096, 6.74) centre (-28.9096, 4.74) ccw projected
  line L9 (-28.9096, 6.74) -> (-29.05, 6.74) projected
  arc A12 (-29.05, 6.74) -> (-31.05, 4.74) centre (-29.05, 4.74) ccw projected
  line L10 (-31.05, 4.74) -> (-31.05, -5.14) projected
  arc A13 (-31.05, -5.14) -> (-29.05, -7.14) centre (-29.05, -5.14) ccw projected
  line L11 (-29.05, -7.14) -> (-28.9096, -7.14) projected
  arc A14 (-28.9096, -7.14) -> (-26.95, -5.54) centre (-28.9096, -5.14) ccw projected
  arc A15 (-26.4763, -5.2) -> (-26.95, -5.54) centre (-26.4763, -5.7) ccw projected
  line L12 (-26.4763, -5.2) -> (-25.65, -5.2) projected
  line L13 (-25.65, -23.2) -> (-25.65, -5.2) projected
  line L14 (-5.65, -25.2) -> (-5.65, -26.0263) projected
  arc A16 (-5.99, -26.5) -> (-5.65, -26.0263) centre (-6.15, -26.0263) ccw projected
  arc A17 (-5.99, -26.5) -> (-7.59, -28.4596) centre (-5.59, -28.4596) ccw projected
  line L15 (-7.59, -28.4596) -> (-7.59, -28.6) projected
  arc A18 (-7.59, -28.6) -> (-5.59, -30.6) centre (-5.59, -28.6) ccw projected
  line L16 (-5.59, -30.6) -> (4.29, -30.6) projected
  arc A19 (4.29, -30.6) -> (6.29, -28.6) centre (4.29, -28.6) ccw projected
  line L17 (6.29, -28.6) -> (6.29, -28.4596) projected
  arc A20 (6.29, -28.4596) -> (4.69, -26.5) centre (4.29, -28.4596) ccw projected
  arc A21 (4.35, -26.0263) -> (4.69, -26.5) centre (4.85, -26.0263) ccw projected
  line L18 (4.35, -26.0263) -> (4.35, -25.2) projected
  line L19 (4.35, -25.2) -> (22.35, -25.2) projected
  line L20 (4.5011, 24.8) -> (4.5009, 24.0742) projected
  arc A22 (4.5009, 24.0742) -> (4.7306, 23.7498) centre (4.8499, 24.0778) ccw projected
  arc A23 (6.4447, 21.6407) -> (4.7306, 23.7498) centre (4.29, 21.6407) ccw projected
  line L21 (6.4447, 21.6407) -> (6.4447, 21.5009) projected
  arc A24 (4.2934, 19.3498) -> (6.4447, 21.5009) centre (4.2935, 21.5009) ccw projected
  line L22 (4.2934, 19.3498) -> (-5.59, 19.3503) projected
  arc A25 (-7.74, 21.5004) -> (-5.59, 19.3503) centre (-5.59, 21.5003) ccw projected
  line L23 (-7.74, 21.5004) -> (-7.74, 21.6407) projected
  arc A26 (-6.03, 23.7451) -> (-7.74, 21.6407) centre (-5.5901, 21.6406) ccw projected
  arc A27 (-6.03, 23.7451) -> (-5.8002, 24.0739) centre (-6.1504, 24.0739) ccw projected
  line L24 (-5.8002, 24.0739) -> (-5.8002, 24.8) projected
  line L25 (24.35, -5.3511) -> (23.6242, -5.3509) projected
  arc A28 (23.6242, -5.3509) -> (23.2998, -5.5806) centre (23.6278, -5.6999) ccw projected
  arc A29 (21.1907, -7.2947) -> (23.2998, -5.5806) centre (21.1907, -5.14) ccw projected
  line L26 (21.1907, -7.2947) -> (21.0509, -7.2947) projected
  arc A30 (18.8998, -5.1434) -> (21.0509, -7.2947) centre (21.0509, -5.1435) ccw projected
  line L27 (18.8998, -5.1434) -> (18.9003, 4.74) projected
  arc A31 (21.0504, 6.89) -> (18.9003, 4.74) centre (21.0503, 4.74) ccw projected
  line L28 (21.0504, 6.89) -> (21.1907, 6.89) projected
  arc A32 (23.2951, 5.18) -> (21.1907, 6.89) centre (21.1906, 4.7401) ccw projected
  arc A33 (23.2951, 5.18) -> (23.6239, 4.9502) centre (23.6239, 5.3004) ccw projected
  line L29 (23.6239, 4.9502) -> (24.35, 4.9502) projected
  line L30 (24.35, 22.8) -> (24.35, 4.9502) projected
  line L31 (22.35, 24.8) -> (4.5011, 24.8) projected
  point P0 (0, 0)
  dimension "d319" = 7.78
  dimension "d320" = 4
  dimension "d321" = 21.4
  dimension "d322" = 4
hole "Hole7" at (-21.95, -0.3, 5.1) at (-0.55, -21.5, 5.1) direction (0, 0, -1) diameter 4.3 end through all counterbore diameter 7.8 counterbore depth 4
pattern_circular "Circular Pattern7" count 2 over 90 about axis through (-0.65, -0.2, 5.1) along (0, 0, 1) of "Extrusion14", "Extrusion13"
ref_plane "Work Plane14" through (0, 0, 2.55) normal (0, 0, 1) x (1, 0, 0)
sketch "Sketch32" plane through (0, 0, 2.55) normal (0, 0, 1) x (1, 0, 0)
  circle A0 centre (-21.2, -14.65) radius 2.45 projected
  circle A1 centre (-15.1, -20.75) radius 2.45 projected
  circle A2 centre (13.8, -20.75) radius 2.45 projected
  circle A3 centre (19.9, -14.65) radius 2.45 projected
  circle A4 centre (19.9, 14.25) radius 2.45 projected
  circle A5 centre (13.8, 20.35) radius 2.45 projected
  circle A6 centre (-15.1, 20.35) radius 2.45 projected
  circle A7 centre (-21.2, 14.25) radius 2.45 projected
  point P0 (0, 0)
extrude "Extrusion16" add sketch "Sketch32" along normal mid plane 0.3
equation "\"d_i\" = 40"
equation "\"d_o\" = 40"
equation "\"d_part\" = 50"
equation "\"d6\" = 0"
equation "\"d7\" = 0"
equation "\"d8\" = 0"
equation "\"d9\" = 0"
equation "\"d13\" = 0"
equation "\"d14\" = 0"
equation "\"d20\" = 0"
equation "\"d21\" = 0"
equation "\"d22\" = 0"
equation "\"d23\" = 0"
equation "\"d24\" = 0"
equation "\"d25\" = 3"
equation "\"d26\" = 0"
equation "\"d27\" = 0"
equation "\"d28\" = 0"
equation "\"d29\" = 0"
equation "\"d30\" = 0"
equation "\"d31\" = 0"
equation "\"d32\" = 0"
equation "\"d33\" = 0"
equation "\"d34\" = 0"
equation "\"d46\" = 0"
equation "\"d47\" = 0"
equation "\"d48\" = 0"
equation "\"d50\" = 0"
equation "\"d51\" = 0"
equation "\"d52\" = 0"
equation "\"d53\" = 0"
equation "\"d54\" = 0"
equation "\"d55\" = 0"
equation "\"d56\" = 0"
equation "\"d57\" = 0"
equation "\"d58\" = 0"
equation "\"d59\" = 0"
equation "\"magnet_offset\" = 0"
equation "\"screw_offset\" = 0"
equation "\"mal_puzzle_offset\" = 0"
equation "\"fem_puzzle_offset\" = 0"
properties part number "10_Base_v2"
